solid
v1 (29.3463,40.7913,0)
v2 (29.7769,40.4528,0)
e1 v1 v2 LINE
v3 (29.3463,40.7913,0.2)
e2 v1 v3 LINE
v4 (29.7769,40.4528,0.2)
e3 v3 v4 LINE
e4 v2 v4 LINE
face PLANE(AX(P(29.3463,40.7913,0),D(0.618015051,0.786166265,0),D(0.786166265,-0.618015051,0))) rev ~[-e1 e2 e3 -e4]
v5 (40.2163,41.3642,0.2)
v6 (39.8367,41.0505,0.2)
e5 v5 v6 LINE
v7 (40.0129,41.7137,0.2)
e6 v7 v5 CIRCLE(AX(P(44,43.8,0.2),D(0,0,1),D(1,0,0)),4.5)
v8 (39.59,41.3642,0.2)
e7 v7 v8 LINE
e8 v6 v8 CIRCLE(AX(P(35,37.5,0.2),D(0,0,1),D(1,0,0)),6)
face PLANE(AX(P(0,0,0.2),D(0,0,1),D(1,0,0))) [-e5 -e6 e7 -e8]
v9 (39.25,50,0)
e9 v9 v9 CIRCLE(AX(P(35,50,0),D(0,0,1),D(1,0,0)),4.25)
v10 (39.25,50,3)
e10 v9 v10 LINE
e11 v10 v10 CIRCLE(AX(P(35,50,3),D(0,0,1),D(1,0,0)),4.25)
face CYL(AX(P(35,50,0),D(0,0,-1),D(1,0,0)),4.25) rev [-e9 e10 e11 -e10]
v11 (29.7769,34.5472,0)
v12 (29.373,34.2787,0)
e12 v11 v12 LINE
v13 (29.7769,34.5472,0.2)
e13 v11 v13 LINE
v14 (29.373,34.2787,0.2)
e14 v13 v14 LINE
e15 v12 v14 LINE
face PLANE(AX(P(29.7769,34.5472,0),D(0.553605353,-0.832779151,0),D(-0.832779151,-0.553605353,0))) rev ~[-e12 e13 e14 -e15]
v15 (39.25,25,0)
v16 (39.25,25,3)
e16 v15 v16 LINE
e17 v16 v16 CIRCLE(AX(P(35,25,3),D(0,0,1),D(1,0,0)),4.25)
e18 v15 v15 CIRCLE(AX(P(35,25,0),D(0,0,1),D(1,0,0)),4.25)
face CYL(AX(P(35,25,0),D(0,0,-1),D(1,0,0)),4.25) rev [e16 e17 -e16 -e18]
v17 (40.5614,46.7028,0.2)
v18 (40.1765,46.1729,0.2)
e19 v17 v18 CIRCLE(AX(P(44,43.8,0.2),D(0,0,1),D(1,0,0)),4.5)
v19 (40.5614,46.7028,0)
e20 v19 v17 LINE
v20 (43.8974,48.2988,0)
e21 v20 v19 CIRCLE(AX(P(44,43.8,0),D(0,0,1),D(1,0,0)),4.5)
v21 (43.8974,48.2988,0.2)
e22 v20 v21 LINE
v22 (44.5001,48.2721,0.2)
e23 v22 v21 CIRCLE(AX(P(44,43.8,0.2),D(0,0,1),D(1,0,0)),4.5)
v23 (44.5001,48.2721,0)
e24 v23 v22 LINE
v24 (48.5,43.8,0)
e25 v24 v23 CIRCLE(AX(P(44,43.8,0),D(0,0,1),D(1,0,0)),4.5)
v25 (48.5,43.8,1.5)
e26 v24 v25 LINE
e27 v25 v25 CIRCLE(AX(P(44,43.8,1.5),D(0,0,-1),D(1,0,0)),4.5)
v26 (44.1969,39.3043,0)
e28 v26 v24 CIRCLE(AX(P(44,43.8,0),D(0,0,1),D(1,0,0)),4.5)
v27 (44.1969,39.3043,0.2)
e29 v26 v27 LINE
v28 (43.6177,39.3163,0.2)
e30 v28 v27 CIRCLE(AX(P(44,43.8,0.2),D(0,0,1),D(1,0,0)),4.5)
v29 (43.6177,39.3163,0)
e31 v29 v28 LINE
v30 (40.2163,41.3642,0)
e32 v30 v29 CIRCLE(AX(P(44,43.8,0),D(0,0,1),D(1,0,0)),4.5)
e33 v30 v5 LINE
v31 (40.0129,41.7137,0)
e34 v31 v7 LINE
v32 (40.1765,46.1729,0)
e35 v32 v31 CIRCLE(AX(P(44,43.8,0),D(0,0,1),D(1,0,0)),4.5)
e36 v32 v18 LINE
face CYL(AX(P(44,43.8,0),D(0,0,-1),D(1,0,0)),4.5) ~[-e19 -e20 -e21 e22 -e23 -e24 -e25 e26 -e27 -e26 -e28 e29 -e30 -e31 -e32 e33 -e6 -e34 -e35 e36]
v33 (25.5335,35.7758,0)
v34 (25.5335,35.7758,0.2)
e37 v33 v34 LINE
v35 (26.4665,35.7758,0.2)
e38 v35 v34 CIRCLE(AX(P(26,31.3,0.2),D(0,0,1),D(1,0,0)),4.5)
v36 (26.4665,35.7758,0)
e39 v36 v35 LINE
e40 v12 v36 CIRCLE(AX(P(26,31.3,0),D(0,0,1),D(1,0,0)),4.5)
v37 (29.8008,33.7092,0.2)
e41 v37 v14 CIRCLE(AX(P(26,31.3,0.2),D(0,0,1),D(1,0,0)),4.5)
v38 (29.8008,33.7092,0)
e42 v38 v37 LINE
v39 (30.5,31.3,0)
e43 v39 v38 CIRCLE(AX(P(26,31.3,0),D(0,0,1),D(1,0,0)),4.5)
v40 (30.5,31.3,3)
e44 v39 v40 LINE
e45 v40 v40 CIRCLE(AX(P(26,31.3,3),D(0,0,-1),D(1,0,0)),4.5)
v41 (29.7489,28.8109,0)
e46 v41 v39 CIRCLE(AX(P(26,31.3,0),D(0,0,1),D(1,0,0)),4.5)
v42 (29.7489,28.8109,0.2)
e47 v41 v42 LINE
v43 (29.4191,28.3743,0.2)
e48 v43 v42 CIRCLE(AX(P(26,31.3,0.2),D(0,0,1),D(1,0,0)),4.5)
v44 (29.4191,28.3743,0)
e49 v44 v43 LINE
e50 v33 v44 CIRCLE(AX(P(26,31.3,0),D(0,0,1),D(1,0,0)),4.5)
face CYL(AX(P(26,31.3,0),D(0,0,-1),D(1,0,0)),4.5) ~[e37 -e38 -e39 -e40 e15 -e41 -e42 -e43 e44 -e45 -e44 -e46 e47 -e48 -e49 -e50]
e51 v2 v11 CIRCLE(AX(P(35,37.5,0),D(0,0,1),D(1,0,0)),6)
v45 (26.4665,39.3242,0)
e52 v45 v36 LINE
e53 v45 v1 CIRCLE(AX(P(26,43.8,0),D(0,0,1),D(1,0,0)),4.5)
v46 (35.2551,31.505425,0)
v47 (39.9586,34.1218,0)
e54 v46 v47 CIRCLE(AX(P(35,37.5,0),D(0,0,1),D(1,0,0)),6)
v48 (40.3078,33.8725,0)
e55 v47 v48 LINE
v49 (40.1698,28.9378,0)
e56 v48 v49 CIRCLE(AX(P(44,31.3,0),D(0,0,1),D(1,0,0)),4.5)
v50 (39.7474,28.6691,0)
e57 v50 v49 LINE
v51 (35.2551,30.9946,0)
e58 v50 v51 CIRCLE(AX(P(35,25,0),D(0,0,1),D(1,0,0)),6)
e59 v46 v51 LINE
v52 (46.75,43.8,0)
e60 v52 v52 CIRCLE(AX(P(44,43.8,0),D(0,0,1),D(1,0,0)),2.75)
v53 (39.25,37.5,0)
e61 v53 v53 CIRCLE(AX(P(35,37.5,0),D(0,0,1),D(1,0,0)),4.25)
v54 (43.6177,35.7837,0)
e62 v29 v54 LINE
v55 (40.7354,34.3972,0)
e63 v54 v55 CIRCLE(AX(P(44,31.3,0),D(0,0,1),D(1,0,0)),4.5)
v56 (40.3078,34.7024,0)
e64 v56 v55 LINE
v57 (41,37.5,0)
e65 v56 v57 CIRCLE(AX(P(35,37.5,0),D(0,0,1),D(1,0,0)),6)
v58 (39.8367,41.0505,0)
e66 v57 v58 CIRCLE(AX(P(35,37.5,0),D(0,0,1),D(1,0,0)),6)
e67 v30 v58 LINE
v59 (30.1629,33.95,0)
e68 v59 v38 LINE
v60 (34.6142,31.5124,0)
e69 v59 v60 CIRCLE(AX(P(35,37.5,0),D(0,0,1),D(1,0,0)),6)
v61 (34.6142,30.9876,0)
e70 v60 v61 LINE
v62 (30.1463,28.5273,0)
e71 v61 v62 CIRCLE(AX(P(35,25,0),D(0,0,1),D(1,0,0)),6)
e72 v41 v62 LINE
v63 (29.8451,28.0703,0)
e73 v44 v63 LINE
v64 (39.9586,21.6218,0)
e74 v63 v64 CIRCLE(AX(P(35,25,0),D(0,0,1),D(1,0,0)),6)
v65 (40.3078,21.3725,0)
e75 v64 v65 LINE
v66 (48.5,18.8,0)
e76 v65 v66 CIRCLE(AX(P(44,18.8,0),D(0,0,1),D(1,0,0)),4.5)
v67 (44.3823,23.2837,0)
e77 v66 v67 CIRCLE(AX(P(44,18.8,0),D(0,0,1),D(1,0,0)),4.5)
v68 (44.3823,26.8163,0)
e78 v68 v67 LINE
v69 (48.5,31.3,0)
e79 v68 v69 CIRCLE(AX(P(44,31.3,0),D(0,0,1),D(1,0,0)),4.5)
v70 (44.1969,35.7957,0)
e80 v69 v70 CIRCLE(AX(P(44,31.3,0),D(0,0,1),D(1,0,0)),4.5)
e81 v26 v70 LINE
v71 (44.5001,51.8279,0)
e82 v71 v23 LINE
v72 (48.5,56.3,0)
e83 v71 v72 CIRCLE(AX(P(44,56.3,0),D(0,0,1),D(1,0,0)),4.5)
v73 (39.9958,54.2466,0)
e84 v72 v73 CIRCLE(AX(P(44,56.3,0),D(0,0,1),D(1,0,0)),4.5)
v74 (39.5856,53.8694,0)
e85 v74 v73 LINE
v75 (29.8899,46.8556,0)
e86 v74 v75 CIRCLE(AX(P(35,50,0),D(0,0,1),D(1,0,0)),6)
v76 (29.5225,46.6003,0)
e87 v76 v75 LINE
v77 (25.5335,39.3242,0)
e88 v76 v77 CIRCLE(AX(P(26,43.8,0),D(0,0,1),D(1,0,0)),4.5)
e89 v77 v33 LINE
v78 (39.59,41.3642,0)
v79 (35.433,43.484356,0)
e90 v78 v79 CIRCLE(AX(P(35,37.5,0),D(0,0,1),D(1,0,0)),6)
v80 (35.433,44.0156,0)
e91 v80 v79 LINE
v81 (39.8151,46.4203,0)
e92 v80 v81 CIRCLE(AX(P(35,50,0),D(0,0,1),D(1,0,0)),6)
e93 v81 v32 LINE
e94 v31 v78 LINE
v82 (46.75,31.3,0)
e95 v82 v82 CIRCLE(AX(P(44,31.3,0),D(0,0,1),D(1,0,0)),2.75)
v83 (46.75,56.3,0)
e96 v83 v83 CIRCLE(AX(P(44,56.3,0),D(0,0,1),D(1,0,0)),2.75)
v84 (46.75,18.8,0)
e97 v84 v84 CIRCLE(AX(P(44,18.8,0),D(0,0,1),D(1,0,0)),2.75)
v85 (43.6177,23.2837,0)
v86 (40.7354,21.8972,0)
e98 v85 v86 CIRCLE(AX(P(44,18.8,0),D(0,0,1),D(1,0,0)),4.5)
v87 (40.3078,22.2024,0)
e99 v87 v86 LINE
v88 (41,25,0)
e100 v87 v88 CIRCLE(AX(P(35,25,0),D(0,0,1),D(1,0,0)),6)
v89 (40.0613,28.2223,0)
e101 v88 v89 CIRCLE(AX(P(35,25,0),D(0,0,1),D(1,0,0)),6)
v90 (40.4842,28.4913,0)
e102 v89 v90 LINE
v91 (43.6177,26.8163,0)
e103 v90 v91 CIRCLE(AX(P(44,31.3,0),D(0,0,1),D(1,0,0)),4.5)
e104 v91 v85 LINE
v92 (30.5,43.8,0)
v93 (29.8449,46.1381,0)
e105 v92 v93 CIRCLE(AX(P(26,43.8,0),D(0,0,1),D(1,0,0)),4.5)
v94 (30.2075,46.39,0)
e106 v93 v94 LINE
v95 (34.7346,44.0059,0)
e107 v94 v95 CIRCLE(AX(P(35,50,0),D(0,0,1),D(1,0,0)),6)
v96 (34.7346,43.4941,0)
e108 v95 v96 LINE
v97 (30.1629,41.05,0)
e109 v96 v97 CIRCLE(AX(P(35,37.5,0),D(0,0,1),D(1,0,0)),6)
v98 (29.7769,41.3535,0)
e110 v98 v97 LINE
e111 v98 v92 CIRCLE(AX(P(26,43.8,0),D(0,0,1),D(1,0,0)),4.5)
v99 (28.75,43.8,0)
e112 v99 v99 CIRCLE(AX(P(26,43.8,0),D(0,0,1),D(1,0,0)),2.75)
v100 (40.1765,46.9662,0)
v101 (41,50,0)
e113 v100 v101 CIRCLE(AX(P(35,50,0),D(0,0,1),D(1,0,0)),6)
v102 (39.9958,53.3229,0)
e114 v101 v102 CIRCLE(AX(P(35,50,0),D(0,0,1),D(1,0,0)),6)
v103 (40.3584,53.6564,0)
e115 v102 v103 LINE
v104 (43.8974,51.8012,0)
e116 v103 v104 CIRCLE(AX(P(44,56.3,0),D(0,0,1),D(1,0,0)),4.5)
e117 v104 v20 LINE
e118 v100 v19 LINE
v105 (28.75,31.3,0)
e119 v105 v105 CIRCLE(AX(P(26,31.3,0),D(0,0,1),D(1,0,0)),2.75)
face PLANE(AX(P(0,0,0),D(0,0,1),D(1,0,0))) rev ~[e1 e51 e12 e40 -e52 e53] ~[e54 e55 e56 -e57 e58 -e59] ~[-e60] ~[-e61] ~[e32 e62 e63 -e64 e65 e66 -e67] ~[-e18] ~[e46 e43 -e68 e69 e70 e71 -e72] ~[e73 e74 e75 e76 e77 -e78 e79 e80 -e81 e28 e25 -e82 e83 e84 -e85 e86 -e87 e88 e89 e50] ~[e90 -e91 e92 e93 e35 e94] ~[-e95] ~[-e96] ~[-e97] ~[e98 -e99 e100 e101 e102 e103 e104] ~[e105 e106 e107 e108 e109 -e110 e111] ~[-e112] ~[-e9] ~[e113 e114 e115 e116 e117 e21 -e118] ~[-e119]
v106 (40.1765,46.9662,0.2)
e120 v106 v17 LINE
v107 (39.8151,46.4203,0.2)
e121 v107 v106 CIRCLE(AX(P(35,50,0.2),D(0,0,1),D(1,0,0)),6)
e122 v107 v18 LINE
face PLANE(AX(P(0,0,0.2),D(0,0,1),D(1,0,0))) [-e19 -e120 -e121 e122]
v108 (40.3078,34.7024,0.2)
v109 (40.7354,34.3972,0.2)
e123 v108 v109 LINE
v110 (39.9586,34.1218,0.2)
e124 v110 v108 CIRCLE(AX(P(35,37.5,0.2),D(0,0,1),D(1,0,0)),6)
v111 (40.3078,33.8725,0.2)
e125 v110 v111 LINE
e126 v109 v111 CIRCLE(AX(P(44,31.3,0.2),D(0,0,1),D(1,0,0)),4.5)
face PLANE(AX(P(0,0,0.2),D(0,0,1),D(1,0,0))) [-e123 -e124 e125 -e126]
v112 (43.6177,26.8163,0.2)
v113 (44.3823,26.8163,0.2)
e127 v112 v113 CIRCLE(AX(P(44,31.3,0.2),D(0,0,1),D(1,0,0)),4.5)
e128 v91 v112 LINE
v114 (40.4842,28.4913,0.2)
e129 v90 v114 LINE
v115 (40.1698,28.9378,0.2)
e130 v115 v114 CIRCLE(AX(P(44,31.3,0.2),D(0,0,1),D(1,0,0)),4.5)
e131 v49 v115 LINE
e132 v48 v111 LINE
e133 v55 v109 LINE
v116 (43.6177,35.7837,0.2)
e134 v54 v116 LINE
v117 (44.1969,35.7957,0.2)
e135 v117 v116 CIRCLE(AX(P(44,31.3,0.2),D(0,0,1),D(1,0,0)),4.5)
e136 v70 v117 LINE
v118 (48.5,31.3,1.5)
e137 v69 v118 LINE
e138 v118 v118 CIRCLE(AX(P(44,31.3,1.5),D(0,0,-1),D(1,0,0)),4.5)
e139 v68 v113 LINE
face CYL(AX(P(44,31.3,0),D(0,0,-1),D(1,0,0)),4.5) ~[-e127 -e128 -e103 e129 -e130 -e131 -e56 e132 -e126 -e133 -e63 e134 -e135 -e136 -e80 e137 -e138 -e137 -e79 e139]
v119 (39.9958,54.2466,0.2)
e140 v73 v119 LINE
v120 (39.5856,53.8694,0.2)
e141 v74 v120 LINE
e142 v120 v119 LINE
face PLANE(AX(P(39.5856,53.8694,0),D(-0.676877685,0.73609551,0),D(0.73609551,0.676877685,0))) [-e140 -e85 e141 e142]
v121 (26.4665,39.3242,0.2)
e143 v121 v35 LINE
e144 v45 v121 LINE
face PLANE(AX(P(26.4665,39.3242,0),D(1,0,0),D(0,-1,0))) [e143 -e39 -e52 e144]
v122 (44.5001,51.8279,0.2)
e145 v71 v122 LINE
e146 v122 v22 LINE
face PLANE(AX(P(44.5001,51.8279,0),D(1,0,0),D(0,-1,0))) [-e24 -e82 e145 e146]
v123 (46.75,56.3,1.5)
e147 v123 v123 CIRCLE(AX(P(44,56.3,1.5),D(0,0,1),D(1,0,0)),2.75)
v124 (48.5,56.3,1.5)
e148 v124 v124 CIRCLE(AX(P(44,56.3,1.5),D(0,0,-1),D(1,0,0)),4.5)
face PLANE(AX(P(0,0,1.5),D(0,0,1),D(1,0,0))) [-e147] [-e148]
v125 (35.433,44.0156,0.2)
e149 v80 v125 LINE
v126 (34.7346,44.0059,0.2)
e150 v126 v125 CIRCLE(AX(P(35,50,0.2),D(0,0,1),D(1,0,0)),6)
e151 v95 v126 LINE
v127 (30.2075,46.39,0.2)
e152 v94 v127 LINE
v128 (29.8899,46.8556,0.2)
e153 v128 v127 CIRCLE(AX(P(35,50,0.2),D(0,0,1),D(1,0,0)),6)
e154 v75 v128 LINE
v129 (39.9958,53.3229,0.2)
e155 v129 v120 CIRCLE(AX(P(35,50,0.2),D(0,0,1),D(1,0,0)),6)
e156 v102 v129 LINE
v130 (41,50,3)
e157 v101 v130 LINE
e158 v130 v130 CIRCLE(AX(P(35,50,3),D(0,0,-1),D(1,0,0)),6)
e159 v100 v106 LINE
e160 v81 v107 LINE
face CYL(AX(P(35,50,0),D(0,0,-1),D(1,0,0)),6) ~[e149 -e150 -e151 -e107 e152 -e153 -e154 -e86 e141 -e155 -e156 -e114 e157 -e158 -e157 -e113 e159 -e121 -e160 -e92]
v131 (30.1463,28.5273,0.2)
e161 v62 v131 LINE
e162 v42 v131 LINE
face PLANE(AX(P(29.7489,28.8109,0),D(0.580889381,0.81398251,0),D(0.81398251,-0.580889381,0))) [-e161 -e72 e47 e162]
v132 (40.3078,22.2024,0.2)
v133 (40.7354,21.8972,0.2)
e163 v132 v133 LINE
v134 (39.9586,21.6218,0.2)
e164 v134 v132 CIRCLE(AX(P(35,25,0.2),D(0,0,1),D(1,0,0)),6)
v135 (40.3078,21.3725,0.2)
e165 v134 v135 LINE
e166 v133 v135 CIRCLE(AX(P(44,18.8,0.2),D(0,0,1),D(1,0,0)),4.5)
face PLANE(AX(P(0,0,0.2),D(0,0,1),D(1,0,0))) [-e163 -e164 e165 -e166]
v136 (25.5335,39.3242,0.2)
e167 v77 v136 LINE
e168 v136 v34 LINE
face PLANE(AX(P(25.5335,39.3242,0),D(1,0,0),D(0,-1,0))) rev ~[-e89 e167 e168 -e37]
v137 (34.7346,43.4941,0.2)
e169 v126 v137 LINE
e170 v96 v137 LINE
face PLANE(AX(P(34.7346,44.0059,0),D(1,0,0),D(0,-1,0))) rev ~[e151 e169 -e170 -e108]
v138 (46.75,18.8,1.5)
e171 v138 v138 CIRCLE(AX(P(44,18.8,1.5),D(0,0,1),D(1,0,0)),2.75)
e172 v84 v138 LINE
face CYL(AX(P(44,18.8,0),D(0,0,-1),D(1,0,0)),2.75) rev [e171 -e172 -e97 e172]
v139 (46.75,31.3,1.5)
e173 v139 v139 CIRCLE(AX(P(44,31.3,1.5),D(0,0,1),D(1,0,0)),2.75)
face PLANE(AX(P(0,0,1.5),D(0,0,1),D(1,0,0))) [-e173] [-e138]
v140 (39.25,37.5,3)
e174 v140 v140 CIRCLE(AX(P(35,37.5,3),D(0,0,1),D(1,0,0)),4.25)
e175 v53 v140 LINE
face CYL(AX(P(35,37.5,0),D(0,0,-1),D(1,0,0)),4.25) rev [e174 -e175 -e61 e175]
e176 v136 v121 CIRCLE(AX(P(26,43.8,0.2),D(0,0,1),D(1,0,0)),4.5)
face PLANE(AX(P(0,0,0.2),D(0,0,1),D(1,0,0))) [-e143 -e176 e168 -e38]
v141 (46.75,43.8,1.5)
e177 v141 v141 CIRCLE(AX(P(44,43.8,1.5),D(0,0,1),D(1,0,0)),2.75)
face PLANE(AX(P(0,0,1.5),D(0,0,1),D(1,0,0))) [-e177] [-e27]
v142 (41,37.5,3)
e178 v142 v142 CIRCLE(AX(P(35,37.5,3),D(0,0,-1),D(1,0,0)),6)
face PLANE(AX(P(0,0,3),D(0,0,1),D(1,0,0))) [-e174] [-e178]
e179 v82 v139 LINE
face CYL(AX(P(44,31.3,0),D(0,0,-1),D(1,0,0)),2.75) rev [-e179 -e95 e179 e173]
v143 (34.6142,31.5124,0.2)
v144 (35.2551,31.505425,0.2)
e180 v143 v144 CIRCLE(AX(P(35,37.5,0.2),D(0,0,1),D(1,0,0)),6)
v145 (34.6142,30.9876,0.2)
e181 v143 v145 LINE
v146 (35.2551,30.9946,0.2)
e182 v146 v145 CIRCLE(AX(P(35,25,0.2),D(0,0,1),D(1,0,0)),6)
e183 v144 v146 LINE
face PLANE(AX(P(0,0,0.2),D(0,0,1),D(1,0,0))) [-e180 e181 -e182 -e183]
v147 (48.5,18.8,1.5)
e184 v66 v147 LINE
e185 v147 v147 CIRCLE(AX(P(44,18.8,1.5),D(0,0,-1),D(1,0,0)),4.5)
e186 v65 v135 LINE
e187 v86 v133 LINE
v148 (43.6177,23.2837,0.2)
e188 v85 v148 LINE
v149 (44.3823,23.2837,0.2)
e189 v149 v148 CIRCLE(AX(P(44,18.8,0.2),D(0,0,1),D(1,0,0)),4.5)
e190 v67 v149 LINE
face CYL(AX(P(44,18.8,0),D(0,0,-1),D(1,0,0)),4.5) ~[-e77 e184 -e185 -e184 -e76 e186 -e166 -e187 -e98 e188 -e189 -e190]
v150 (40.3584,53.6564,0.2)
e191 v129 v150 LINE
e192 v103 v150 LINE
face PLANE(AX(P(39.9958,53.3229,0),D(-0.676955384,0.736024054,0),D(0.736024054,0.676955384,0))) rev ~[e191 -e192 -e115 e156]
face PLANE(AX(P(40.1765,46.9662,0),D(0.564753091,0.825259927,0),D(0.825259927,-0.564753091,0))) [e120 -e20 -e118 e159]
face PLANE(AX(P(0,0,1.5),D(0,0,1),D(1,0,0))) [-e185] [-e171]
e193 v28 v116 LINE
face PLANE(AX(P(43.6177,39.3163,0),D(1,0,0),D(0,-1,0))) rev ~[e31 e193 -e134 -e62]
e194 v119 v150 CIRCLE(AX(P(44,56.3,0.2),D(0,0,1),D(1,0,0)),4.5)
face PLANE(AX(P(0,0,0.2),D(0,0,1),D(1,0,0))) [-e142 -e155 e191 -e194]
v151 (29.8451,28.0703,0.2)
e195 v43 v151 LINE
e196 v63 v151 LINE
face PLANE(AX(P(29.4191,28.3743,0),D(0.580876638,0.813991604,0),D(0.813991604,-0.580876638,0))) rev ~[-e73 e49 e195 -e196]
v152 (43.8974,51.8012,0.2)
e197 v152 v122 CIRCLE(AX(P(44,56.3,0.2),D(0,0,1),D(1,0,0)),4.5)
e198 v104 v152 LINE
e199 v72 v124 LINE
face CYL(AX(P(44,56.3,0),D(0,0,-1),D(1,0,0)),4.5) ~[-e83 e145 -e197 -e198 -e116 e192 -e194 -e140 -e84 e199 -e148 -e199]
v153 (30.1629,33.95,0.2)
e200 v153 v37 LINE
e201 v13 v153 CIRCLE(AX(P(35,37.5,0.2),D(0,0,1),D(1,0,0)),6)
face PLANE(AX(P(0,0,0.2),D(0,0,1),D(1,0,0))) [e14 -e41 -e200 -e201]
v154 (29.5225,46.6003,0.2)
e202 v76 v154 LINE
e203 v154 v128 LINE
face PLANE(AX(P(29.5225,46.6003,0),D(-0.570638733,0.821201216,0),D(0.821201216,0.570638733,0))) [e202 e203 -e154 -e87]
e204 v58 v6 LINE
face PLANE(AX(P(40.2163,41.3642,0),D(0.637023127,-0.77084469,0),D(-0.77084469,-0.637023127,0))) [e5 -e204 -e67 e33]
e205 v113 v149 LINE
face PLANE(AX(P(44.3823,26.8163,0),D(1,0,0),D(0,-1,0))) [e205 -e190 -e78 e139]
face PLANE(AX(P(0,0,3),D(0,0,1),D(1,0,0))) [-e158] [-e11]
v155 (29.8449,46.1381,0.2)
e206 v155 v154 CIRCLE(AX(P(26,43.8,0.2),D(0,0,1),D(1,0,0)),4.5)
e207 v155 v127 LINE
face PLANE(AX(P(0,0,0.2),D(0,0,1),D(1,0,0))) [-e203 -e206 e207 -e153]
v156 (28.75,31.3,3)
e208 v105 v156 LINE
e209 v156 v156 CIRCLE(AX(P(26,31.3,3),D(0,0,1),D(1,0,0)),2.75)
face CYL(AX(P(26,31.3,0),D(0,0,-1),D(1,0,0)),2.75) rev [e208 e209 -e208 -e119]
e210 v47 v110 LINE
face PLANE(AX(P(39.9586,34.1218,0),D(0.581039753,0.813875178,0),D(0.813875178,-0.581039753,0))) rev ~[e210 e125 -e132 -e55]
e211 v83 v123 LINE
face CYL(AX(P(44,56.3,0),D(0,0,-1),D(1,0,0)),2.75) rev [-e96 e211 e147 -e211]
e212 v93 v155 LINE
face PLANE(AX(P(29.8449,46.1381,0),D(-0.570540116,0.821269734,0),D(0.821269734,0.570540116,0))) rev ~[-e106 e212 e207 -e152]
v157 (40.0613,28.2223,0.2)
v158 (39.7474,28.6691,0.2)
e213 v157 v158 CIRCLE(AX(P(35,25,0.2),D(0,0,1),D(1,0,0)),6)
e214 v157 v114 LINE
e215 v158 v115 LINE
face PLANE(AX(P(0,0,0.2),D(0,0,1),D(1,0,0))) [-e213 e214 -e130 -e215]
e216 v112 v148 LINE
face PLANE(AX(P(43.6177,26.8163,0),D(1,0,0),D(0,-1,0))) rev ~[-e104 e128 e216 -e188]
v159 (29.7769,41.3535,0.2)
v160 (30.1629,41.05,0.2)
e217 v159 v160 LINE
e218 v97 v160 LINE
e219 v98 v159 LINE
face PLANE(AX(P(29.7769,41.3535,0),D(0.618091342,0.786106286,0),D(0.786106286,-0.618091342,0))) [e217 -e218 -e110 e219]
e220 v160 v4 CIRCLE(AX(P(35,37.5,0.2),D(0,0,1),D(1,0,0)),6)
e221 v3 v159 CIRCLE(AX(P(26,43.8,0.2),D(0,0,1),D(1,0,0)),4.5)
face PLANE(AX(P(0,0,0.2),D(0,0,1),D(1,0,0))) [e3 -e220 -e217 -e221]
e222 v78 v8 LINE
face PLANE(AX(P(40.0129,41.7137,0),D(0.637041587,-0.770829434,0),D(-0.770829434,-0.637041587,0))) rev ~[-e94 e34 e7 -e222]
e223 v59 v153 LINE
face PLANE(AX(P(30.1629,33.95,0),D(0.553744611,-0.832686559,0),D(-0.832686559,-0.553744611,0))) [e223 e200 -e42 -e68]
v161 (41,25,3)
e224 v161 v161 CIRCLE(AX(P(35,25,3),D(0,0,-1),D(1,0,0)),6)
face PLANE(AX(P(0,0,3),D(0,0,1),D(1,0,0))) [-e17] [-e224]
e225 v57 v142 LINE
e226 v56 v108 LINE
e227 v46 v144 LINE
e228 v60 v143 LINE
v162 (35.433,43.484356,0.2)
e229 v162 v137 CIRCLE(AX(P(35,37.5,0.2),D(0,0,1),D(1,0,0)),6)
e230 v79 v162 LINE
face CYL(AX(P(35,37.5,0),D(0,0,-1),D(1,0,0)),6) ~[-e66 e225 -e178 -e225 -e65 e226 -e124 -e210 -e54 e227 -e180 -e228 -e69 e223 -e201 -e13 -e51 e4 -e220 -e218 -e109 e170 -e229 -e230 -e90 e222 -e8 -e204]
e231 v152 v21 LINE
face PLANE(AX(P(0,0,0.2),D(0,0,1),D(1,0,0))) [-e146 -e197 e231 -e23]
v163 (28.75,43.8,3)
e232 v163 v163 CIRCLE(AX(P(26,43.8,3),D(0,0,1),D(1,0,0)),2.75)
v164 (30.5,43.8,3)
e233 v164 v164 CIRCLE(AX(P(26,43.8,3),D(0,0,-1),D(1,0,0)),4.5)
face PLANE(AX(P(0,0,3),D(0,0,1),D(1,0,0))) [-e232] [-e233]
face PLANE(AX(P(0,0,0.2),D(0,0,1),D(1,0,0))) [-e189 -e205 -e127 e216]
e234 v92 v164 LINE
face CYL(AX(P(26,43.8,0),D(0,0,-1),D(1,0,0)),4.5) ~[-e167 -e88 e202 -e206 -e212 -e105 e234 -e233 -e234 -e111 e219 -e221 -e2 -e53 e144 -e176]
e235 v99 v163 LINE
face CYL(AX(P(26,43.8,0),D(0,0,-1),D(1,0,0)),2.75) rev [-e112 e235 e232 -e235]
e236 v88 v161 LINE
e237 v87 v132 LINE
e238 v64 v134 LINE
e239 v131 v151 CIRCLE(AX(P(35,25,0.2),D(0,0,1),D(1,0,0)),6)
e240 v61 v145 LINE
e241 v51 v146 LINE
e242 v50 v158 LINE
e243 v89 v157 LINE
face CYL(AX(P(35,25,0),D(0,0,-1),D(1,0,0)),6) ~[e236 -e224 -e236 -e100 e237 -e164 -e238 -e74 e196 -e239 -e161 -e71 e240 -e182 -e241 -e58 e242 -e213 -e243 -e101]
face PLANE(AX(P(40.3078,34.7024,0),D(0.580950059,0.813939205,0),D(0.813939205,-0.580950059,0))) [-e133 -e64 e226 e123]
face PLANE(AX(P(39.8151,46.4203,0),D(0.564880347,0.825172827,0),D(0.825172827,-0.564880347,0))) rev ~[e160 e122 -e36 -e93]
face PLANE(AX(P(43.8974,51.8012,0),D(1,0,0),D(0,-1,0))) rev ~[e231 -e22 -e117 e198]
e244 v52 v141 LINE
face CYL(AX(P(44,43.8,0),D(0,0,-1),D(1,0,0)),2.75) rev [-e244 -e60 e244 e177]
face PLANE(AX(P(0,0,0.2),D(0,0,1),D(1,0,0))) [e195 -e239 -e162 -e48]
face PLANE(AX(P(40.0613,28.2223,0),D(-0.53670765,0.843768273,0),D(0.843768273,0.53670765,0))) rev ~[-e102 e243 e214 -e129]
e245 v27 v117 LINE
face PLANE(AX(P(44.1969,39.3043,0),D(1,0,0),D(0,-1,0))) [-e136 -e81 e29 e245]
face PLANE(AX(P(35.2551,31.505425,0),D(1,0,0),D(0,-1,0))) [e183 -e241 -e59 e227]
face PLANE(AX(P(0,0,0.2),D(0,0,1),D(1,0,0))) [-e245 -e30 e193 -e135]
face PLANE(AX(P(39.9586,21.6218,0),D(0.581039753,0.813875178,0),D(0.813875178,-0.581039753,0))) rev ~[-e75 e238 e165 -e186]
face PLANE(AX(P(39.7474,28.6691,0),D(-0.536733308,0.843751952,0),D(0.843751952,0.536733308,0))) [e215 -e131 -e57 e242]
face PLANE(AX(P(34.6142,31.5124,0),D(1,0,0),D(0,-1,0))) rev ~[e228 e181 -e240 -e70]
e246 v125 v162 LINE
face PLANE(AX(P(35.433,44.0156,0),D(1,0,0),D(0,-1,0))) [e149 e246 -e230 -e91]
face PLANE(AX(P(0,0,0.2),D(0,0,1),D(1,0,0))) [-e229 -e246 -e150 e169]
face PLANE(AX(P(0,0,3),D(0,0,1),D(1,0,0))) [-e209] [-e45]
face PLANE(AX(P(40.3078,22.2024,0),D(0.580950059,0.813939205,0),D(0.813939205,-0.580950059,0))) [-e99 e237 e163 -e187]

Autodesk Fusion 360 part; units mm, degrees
sketch "Sketch1" plane through (0, 0, 0) normal (0, 0, 1) x (1, 0, 0)
  circle A0 centre (35, 25) radius 4.25
  circle A1 centre (35, 25) radius 6
  circle A2 centre (35, 37.5) radius 6
  circle A3 centre (35, 37.5) radius 4.25
  circle A4 centre (35, 50) radius 6
  circle A5 centre (35, 50) radius 4.25
  circle A6 centre (26, 31.3) radius 4.5
  circle A7 centre (26, 31.3) radius 2.75
  circle A8 centre (26, 43.8) radius 4.5
  circle A9 centre (26, 43.8) radius 2.75
  circle A10 centre (44, 31.3) radius 4.5
  circle A11 centre (44, 31.3) radius 2.75
  circle A12 centre (44, 18.8) radius 2.75
  circle A13 centre (44, 18.8) radius 4.5
  circle A14 centre (44, 56.3) radius 4.5
  circle A15 centre (44, 56.3) radius 2.75
  circle A16 centre (44, 43.8) radius 4.5
  circle A17 centre (44, 43.8) radius 2.75
  line L0 (29.5225, 46.6003) -> (29.8899, 46.8556)
  line L1 (29.8449, 46.1381) -> (30.2075, 46.39)
  line L2 (34.7346, 44.0059) -> (34.7346, 43.4941)
  line L3 (35.433, 44.0156) -> (35.433, 43.2)
  line L4 (29.3463, 40.7913) -> (29.7769, 40.4528)
  line L5 (29.7769, 41.3535) -> (30.1629, 41.05)
  line L6 (29.7769, 34.5472) -> (29.373, 34.2787)
  line L7 (30.1629, 33.95) -> (29.8008, 33.7092)
  line L8 (34.6142, 31.5124) -> (34.6142, 30.9876)
  line L9 (35.2551, 31.5124) -> (35.2551, 30.9946)
  line L10 (29.4191, 28.3743) -> (29.8451, 28.0703)
  line L11 (29.7489, 28.8109) -> (30.1463, 28.5273)
  line L12 (39.7474, 28.6691) -> (40.1698, 28.9378)
  line L13 (40.0613, 28.2223) -> (40.4842, 28.4913)
  line L14 (39.9586, 34.1218) -> (40.3078, 33.8725)
  line L15 (40.3078, 34.7024) -> (40.7354, 34.3972)
  line L16 (40.3078, 22.2024) -> (40.7354, 21.8972)
  line L17 (39.9586, 21.6218) -> (40.3078, 21.3725)
  line L18 (43.6177, 26.8163) -> (43.6177, 23.2837)
  line L19 (44.3823, 26.8163) -> (44.3823, 23.2837)
  line L20 (43.6177, 39.3163) -> (43.6177, 35.7837)
  line L21 (44.1969, 39.3043) -> (44.1969, 35.7957)
  line L22 (40.0129, 41.7137) -> (39.59, 41.3642)
  line L23 (40.2163, 41.3642) -> (39.8367, 41.0505)
  line L24 (39.8151, 46.4203) -> (40.1765, 46.1729)
  line L25 (40.1765, 46.9662) -> (40.5614, 46.7028)
  line L26 (39.5856, 53.8694) -> (39.9958, 54.2466)
  line L27 (39.9958, 53.3229) -> (40.3584, 53.6564)
  line L28 (43.8974, 51.8012) -> (43.8974, 48.2988)
  line L29 (44.5001, 51.8279) -> (44.5001, 48.2721)
  line L30 (25.5335, 39.3242) -> (25.5335, 35.7758)
  line L31 (26.4665, 39.3242) -> (26.4665, 35.7758)
  dimension "d1" = 8.5
  dimension "d2" = 12
  dimension "d5" = 8.5
  dimension "d6" = 12
  dimension "d7" = 8.5
  dimension "d8" = 12
  dimension "d19" = 5.5
  dimension "d20" = 9
  dimension "d21" = 5.5
  dimension "d22" = 9
  dimension "d23" = 5.5
  dimension "d24" = 9
  dimension "d25" = 5.5
  dimension "d26" = 9
  dimension "d27" = 5.5
  dimension "d28" = 9
  dimension "d29" = 5.5
  dimension "d30" = 9
extrude "Extrude1" add sketch "Sketch1" along normal blind 3 contours A1 | A2 | A6 | A8 | A4 makes body 1 at (40.9702, 36.9026, 1) makes body 2 at (30.4776, 30.8519, 1) makes body 3 at (40.9702, 50.5974, 2) makes body 4 at (30.4776, 44.2481, 2) makes body 5 at (40.9702, 24.4026, 1)
extrude "Extrude2" add sketch "Sketch1" along normal blind 1.5 separate body contours A10 | A13 | A16 | A14 makes body 6 at (48.4776, 31.7481, 1) makes body 7 at (48.4776, 43.3519, 0.5) makes body 8 at (48.4776, 18.3519, 0.5) makes body 9 at (48.4776, 56.7481, 1)
extrude "Extrude3" add sketch "Sketch1" along normal blind 0.2 contours A1 A10 L12 L13 | A1 A13 L16 L17 | A1 A2 L8 L9 | A10 A13 L18 L19 | A1 A6 L10 L11 | A2 A10 L14 L15 | A6 A8 L30 L31 | A2 A6 L6 L7 | A10 A16 L20 L21 | A4 A8 L0 L1 | A2 A8 L4 L5 | A2 A16 L22 L23 | A14 A16 L28 L29 | A4 A14 L26 L27 | A2 A4 L2 L3 | A4 A16 L24 L25 bodies 1 2 3 4 5 6 7 8 9
